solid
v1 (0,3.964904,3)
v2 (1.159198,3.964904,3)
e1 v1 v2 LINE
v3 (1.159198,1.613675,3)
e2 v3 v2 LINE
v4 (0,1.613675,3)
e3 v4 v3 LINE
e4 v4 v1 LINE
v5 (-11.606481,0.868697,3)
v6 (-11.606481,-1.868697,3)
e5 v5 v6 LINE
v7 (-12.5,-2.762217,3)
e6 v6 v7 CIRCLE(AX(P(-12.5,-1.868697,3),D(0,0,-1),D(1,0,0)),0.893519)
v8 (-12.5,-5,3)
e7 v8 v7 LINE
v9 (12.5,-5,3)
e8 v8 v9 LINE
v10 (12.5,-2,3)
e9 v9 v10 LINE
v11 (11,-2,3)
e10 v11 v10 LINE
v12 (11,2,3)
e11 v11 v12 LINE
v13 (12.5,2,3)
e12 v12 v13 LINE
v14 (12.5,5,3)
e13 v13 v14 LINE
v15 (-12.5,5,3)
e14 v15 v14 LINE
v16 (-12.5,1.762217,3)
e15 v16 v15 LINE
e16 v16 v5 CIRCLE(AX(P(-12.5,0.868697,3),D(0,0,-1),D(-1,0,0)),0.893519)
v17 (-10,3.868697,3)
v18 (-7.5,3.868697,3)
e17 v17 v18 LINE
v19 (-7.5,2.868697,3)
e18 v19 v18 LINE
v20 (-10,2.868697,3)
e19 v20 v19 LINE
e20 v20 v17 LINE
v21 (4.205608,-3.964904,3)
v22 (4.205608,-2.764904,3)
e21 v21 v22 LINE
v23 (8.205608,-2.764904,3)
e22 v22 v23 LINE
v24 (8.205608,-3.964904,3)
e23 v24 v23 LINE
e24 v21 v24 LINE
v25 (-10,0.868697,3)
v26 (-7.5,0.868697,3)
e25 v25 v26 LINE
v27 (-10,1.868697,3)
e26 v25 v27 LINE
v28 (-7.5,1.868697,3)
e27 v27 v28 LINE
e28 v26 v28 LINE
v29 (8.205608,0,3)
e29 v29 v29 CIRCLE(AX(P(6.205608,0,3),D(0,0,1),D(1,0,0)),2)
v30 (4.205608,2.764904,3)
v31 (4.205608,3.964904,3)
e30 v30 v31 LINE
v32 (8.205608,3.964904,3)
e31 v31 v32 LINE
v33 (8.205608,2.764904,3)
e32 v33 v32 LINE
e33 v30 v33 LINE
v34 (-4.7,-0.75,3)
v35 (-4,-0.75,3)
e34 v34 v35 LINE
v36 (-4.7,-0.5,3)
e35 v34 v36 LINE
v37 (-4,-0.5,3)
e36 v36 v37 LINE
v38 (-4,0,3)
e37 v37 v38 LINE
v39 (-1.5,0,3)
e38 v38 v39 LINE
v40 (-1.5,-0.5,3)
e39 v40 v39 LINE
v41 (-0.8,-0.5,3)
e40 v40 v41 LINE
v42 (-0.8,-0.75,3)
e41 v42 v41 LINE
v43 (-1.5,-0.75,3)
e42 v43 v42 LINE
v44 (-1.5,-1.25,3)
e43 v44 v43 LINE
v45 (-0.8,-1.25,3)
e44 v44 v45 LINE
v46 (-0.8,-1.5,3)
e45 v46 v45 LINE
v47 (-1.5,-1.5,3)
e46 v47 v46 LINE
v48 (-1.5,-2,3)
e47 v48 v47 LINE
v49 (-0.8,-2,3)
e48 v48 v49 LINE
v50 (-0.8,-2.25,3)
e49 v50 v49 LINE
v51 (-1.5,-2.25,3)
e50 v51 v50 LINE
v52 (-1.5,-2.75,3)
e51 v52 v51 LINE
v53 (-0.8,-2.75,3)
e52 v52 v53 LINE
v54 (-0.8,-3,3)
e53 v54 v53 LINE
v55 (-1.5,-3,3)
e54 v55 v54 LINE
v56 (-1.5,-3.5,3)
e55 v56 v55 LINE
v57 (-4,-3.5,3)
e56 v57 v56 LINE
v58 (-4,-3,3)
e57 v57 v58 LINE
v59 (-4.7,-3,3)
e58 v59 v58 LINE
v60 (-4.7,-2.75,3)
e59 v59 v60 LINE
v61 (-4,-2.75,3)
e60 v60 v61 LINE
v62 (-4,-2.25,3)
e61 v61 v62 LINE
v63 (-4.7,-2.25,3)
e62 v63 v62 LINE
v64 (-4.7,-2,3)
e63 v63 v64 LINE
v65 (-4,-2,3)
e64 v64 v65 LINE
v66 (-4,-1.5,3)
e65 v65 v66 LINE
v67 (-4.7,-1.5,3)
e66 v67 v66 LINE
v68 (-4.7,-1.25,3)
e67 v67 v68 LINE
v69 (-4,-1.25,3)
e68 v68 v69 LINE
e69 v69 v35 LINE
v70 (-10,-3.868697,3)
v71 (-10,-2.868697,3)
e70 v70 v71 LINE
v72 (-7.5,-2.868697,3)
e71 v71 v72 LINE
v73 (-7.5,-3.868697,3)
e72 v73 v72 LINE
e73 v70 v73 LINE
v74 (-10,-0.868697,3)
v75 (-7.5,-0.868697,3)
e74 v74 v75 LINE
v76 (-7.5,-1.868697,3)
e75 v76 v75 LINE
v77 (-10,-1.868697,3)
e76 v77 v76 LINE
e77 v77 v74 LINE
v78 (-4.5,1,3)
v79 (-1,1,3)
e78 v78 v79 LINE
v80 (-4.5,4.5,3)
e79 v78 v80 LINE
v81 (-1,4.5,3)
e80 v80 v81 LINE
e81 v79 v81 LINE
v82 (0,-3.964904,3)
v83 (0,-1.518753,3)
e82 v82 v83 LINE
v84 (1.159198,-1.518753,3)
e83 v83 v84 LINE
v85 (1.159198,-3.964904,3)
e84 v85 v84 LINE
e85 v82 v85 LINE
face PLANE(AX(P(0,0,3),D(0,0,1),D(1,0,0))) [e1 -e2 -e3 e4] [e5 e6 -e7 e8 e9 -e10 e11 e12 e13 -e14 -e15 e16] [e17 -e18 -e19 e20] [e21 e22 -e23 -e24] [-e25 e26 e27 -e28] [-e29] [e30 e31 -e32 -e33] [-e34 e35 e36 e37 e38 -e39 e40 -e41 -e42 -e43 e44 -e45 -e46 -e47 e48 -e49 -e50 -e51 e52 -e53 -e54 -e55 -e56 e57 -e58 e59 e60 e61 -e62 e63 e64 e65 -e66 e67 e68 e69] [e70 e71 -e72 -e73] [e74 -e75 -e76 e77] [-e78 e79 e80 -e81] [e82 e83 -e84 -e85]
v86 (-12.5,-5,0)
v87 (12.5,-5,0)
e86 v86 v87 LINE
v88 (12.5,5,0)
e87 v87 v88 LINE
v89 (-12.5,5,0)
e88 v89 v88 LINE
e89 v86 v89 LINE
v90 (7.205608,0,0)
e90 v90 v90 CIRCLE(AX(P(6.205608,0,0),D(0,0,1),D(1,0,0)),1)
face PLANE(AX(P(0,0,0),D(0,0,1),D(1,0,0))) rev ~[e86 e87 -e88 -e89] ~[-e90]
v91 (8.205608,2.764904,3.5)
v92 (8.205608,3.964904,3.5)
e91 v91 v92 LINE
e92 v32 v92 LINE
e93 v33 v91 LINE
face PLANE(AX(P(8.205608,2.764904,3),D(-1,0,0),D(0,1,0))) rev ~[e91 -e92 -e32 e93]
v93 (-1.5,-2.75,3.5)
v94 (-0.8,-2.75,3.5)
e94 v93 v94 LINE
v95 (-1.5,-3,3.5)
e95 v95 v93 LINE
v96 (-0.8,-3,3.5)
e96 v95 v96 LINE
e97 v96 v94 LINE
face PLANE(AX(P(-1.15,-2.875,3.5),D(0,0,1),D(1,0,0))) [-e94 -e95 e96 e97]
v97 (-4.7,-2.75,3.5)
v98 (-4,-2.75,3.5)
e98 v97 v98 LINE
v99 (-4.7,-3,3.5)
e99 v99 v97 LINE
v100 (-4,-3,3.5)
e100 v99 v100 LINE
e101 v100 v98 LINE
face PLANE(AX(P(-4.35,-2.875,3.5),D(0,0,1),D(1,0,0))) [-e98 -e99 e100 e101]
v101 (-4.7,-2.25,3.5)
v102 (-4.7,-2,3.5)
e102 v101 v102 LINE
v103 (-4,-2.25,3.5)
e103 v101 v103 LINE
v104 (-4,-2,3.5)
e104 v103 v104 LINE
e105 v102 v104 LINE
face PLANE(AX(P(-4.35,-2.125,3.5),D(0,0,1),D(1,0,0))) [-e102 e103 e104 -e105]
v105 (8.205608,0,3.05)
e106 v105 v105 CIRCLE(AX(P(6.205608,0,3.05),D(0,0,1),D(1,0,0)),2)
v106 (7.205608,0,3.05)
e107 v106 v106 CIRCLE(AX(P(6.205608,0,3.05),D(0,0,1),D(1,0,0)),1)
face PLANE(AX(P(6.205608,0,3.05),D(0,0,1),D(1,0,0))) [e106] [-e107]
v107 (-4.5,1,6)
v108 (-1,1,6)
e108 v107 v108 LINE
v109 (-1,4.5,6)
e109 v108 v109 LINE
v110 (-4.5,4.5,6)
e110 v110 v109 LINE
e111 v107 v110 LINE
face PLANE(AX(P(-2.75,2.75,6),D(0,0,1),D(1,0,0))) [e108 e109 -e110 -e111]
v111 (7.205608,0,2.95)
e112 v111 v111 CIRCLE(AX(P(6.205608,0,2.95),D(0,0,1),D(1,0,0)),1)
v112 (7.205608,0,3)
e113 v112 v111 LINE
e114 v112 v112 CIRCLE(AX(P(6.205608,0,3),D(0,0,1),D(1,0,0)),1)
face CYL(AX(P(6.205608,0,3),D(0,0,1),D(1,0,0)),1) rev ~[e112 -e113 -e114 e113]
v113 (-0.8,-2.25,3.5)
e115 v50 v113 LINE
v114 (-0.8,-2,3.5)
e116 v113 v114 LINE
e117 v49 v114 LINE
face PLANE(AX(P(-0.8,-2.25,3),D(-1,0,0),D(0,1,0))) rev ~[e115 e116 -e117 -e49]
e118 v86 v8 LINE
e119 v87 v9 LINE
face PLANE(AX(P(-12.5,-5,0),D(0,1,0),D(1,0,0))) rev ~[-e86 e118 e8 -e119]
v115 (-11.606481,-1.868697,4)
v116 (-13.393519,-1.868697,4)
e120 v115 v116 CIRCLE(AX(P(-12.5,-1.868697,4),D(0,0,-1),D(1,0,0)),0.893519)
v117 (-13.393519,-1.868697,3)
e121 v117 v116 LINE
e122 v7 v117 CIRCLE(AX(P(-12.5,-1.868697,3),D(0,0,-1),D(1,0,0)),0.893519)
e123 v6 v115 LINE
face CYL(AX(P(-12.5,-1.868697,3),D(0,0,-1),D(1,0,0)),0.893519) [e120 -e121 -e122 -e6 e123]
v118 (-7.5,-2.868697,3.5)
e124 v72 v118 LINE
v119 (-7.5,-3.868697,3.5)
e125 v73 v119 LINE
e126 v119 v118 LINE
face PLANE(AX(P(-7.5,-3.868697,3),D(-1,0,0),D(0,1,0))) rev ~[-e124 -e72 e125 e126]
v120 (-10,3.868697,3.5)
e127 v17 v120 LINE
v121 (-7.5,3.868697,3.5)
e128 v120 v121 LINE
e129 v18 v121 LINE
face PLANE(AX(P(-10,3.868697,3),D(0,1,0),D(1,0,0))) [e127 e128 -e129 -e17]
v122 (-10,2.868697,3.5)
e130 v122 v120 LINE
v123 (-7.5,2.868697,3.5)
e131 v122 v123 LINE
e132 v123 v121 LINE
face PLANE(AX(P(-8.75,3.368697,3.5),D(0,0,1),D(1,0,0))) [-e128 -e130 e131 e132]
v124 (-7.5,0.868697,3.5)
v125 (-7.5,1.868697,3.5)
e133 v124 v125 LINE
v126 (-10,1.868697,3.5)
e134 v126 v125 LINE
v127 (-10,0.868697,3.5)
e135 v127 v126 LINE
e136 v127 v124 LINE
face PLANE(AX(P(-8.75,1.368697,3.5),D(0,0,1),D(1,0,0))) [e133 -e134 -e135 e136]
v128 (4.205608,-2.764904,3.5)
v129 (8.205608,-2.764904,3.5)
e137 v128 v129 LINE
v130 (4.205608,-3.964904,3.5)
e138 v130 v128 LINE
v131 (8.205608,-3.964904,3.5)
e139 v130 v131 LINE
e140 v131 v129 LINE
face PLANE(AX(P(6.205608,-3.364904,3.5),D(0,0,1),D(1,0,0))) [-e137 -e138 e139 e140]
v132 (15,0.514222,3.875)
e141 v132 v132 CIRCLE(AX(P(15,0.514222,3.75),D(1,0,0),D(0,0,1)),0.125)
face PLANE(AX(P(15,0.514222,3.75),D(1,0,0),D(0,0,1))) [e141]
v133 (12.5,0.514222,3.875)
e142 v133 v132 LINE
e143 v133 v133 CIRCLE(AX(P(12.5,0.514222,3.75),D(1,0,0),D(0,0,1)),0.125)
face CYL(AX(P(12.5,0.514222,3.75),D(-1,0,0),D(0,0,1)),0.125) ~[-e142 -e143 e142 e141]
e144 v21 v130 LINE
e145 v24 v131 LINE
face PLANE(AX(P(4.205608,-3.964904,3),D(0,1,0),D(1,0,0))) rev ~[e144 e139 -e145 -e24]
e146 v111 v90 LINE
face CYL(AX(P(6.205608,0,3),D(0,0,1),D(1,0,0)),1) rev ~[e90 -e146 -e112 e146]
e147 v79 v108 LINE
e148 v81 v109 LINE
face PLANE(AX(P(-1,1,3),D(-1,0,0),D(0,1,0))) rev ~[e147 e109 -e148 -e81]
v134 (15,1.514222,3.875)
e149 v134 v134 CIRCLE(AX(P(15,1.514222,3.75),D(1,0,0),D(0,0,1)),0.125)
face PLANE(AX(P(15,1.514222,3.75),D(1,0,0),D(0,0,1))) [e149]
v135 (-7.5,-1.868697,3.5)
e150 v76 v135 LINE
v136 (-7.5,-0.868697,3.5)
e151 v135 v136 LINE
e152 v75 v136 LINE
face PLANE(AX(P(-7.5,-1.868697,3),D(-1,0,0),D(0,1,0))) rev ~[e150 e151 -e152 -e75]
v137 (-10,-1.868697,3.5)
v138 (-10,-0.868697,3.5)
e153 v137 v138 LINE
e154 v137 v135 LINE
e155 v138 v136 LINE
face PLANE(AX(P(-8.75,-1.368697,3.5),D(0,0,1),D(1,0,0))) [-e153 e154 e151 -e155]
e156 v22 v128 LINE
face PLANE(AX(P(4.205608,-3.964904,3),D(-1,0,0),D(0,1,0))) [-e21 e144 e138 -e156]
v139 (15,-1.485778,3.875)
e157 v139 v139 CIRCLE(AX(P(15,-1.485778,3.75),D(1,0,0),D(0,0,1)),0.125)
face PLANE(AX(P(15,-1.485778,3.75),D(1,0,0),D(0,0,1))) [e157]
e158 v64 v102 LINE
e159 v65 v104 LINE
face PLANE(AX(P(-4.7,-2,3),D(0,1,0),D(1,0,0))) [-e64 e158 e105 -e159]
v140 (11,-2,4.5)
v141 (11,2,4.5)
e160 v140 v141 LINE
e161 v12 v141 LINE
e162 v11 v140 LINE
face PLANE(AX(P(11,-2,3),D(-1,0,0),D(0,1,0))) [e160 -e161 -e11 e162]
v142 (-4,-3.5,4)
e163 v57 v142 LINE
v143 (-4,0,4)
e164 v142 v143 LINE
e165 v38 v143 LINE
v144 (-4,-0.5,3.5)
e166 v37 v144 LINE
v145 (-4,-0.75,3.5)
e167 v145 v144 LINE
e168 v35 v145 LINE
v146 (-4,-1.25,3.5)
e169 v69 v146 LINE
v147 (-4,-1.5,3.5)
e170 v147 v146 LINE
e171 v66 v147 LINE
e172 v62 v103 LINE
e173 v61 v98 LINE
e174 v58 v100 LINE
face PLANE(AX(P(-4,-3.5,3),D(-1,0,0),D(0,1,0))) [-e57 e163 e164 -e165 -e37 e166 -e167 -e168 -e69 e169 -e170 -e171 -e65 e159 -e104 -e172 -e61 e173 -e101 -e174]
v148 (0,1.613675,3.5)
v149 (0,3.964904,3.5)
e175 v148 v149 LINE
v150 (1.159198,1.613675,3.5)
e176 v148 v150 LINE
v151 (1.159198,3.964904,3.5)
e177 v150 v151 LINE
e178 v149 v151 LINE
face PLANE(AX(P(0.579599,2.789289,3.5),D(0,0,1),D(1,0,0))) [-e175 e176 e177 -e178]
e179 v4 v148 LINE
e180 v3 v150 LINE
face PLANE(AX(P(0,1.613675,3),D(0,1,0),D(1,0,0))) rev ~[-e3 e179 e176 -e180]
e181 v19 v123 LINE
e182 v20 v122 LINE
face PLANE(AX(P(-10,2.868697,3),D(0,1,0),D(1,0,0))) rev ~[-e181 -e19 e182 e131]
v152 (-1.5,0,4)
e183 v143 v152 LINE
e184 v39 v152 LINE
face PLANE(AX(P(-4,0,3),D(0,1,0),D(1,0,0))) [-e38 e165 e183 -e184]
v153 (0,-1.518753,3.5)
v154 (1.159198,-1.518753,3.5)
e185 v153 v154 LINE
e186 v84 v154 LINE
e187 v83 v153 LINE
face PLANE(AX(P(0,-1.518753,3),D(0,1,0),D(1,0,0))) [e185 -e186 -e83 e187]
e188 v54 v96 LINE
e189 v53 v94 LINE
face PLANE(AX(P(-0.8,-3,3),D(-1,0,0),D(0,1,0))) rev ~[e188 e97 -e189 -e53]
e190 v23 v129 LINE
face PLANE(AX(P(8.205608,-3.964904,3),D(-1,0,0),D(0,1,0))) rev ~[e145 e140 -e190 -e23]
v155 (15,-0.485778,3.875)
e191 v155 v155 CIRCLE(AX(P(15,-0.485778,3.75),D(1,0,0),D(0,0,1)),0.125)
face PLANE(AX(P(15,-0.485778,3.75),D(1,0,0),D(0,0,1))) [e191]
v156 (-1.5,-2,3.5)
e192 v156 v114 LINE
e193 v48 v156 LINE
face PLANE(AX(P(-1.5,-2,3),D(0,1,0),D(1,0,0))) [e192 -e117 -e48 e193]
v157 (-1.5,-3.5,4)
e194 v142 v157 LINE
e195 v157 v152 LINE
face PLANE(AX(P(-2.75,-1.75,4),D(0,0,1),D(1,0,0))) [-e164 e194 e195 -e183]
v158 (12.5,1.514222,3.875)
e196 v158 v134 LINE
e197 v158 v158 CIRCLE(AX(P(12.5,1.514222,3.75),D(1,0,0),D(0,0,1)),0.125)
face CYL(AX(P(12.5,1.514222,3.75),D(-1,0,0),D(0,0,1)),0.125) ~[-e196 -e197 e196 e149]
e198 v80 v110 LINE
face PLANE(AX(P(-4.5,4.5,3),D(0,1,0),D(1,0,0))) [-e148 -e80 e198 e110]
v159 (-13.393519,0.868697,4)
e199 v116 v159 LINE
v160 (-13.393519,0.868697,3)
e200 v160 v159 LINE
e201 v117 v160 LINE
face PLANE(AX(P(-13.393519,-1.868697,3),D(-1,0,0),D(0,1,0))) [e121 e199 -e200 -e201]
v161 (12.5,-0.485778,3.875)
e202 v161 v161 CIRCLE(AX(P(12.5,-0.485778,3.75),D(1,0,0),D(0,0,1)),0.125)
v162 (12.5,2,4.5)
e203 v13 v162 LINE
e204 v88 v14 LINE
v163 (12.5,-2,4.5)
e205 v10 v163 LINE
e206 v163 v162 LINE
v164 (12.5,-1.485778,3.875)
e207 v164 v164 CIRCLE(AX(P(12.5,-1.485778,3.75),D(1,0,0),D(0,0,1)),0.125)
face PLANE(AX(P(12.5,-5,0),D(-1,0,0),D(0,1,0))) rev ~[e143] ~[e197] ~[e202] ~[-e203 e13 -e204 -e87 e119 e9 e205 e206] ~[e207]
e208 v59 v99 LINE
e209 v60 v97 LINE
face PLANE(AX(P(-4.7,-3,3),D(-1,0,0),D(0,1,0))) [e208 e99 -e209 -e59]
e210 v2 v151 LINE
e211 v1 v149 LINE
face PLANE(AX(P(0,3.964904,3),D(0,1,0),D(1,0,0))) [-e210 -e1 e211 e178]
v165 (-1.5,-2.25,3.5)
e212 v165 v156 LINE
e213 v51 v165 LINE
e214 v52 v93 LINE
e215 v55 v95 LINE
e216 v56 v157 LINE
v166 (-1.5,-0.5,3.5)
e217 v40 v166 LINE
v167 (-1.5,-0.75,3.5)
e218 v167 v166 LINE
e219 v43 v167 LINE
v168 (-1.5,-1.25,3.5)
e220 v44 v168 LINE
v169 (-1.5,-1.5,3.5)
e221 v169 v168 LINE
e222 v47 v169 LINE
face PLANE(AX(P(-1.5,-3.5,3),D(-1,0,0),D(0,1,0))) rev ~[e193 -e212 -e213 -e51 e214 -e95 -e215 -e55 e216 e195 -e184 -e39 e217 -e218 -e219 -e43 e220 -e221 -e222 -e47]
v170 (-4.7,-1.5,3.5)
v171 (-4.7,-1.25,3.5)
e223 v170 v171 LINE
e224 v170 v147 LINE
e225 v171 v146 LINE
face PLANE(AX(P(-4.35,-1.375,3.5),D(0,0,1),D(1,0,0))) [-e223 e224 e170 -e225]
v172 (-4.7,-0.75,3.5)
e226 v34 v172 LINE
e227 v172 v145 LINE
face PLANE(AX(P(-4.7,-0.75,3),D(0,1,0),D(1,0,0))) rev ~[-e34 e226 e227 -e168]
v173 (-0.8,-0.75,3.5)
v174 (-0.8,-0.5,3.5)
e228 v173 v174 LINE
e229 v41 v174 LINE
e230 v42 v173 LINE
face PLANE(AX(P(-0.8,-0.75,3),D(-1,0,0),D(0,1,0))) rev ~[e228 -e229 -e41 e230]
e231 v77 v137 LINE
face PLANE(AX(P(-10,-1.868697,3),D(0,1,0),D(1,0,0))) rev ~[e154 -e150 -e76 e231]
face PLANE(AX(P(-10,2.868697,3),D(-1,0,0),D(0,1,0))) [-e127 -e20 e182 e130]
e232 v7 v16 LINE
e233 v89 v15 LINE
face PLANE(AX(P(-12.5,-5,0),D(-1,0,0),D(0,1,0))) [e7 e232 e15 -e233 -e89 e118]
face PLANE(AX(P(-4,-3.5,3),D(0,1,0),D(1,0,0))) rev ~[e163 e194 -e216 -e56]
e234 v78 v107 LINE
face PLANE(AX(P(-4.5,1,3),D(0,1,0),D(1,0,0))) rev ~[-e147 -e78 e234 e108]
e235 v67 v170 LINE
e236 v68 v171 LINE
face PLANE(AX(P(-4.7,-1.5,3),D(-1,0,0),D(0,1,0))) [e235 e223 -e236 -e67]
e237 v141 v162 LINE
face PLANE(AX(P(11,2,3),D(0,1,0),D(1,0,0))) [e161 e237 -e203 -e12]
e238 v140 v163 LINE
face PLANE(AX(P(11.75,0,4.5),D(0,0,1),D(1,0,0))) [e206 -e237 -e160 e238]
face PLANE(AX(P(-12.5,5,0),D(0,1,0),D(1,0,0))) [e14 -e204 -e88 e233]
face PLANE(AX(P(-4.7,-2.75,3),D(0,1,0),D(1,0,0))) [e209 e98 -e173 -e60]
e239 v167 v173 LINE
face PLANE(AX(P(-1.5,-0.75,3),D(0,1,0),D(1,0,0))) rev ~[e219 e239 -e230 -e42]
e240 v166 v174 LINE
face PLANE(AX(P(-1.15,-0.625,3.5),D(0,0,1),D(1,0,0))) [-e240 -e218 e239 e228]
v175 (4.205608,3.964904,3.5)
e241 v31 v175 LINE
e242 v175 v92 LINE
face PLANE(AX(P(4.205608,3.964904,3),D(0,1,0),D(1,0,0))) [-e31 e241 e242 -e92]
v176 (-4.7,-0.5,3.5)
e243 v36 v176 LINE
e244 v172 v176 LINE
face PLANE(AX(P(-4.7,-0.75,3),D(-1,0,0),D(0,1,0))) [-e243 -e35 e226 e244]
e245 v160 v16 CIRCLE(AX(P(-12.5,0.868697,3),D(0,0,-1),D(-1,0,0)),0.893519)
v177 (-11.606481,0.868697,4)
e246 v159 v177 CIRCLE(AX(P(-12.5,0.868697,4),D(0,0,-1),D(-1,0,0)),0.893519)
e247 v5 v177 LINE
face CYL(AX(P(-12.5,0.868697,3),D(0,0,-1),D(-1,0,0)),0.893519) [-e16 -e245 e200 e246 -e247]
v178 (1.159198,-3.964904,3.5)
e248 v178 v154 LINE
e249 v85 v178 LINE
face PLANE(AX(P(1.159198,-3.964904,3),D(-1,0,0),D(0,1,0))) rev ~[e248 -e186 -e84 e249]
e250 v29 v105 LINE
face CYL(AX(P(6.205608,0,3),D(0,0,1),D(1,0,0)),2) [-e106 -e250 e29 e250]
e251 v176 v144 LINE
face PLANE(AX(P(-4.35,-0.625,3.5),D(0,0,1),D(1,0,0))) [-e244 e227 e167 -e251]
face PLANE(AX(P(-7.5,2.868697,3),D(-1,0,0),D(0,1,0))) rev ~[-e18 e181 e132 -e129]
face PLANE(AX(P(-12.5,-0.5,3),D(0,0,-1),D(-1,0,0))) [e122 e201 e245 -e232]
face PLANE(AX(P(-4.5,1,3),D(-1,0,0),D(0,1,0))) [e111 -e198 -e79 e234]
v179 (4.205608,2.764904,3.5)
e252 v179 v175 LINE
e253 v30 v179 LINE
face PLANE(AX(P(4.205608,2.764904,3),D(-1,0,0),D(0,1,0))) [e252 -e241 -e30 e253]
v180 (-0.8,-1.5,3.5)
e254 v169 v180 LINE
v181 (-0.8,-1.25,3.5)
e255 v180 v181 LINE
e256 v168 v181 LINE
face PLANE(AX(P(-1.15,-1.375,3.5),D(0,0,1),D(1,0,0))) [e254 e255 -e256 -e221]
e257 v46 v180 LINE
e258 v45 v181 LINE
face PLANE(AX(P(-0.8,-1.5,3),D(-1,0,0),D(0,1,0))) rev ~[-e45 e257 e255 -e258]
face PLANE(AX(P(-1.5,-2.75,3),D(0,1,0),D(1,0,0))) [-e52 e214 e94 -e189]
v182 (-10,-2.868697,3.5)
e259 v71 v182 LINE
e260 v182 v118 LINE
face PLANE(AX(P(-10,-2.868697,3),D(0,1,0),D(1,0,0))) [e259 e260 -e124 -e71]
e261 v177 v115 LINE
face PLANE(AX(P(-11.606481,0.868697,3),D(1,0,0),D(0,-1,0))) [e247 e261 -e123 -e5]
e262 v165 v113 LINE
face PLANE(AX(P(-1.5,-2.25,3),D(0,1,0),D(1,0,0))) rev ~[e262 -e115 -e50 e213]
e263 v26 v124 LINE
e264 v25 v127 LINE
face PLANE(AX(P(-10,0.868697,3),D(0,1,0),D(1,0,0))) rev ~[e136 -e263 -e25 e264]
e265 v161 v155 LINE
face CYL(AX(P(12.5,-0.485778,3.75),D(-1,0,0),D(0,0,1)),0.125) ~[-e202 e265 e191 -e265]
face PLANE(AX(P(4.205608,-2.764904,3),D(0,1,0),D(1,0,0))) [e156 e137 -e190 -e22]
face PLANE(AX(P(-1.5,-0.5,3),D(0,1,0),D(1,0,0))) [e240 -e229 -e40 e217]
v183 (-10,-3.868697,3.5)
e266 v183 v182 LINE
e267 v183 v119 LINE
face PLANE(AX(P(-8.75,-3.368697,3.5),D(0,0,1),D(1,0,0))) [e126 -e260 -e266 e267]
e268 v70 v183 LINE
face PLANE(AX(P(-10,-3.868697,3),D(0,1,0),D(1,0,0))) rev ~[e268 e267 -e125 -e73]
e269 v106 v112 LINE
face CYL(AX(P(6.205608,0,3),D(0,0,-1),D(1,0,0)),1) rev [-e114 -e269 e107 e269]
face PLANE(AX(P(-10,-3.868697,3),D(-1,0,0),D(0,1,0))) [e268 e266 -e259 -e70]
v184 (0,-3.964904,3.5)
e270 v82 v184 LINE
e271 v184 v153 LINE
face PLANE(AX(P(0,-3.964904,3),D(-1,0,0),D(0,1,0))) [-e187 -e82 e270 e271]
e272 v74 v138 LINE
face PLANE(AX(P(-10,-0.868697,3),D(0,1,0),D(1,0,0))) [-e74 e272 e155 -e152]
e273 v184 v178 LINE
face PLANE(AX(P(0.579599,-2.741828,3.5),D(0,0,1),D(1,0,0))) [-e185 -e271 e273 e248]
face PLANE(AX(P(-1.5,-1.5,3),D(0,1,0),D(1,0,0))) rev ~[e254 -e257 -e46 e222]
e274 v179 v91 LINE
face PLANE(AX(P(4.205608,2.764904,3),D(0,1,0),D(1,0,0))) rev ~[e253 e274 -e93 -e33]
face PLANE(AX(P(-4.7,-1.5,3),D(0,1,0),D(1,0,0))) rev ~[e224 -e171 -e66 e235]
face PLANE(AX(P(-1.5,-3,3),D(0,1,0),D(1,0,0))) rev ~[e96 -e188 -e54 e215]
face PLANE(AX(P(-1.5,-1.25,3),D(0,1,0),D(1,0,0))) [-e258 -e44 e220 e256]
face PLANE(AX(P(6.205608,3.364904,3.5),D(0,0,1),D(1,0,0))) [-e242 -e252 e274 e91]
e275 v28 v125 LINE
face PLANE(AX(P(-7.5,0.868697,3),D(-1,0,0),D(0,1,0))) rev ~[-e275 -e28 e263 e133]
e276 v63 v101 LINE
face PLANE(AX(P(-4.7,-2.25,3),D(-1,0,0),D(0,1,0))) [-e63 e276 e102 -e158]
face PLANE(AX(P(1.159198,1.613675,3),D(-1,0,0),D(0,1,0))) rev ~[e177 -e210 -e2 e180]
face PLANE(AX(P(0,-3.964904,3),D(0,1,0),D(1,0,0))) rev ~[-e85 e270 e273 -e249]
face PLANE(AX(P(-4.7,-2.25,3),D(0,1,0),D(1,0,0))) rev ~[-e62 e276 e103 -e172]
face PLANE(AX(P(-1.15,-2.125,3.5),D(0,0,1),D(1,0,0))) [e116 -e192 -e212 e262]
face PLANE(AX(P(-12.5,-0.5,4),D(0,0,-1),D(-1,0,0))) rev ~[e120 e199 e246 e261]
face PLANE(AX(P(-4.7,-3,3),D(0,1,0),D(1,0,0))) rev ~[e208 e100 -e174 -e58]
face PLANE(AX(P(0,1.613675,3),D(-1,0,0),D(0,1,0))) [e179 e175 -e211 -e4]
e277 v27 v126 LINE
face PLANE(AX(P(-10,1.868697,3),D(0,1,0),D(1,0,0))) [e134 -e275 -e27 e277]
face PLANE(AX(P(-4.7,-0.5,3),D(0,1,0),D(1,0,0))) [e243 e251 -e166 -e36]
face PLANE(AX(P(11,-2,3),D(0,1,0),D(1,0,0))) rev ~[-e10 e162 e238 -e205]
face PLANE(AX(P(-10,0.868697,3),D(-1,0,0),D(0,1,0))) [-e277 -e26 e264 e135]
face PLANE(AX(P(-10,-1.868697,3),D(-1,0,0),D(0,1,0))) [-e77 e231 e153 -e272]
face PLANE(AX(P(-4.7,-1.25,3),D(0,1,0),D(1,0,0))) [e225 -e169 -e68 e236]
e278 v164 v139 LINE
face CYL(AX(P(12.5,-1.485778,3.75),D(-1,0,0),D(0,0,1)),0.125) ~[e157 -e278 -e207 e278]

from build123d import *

# Parameters (mm, degrees)
CROQUIS1_W               = 25
CROQUIS1_H               = 10
SALIENTE_EXTRUIR1_DEPTH  = 3
CORTAR_EXTRUIR1_REACH    = 15.793
CROQUIS2_R               = 1
CROQUIS2_3_R             = 2
CROQUIS2_3_R_2           = 1
SALIENTE_EXTRUIR2_DEPTH  = 0.05
CROQUIS3_W               = 3.5
CROQUIS3_H               = 3.5
SALIENTE_EXTRUIR3_DEPTH  = 3
CROQUIS4_W               = 2.5
CROQUIS4_H               = 3.5
SALIENTE_EXTRUIR4_DEPTH  = 1
CROQUIS5_W               = 0.7
CROQUIS5_H               = 0.25
SALIENTE_EXTRUIR5_DEPTH  = 0.5
CROQUIS6_W               = 2.5
CROQUIS6_H               = 1
CROQUIS6_W_2             = 4
CROQUIS6_H_2             = 1.2
SALIENTE_EXTRUIR6_DEPTH  = 0.5
CROQUIS7_W               = 2.5
CROQUIS7_H               = 1
CROQUIS7_W_2             = 4
CROQUIS7_H_2             = 1.2
SALIENTE_EXTRUIR7_DEPTH  = 0.5
CROQUIS8_W               = 1.5
CROQUIS8_H               = 4
SALIENTE_EXTRUIR8_DEPTH  = 1.5
CROQUIS9_R               = 0.125
SALIENTE_EXTRUIR9_DEPTH  = 2.5
SALIENTE_EXTRUIR11_DEPTH = 1
CROQUIS12_W              = 1.159197975
CROQUIS12_H              = 2.351229057
CROQUIS12_H_2            = 2.446151106
SALIENTE_EXTRUIR12_DEPTH = 0.5


with BuildPart() as part:
    # Croquis1 → Saliente-Extruir1 (new body)
    with BuildSketch(Plane.XY):
        Rectangle(CROQUIS1_W, CROQUIS1_H)
    extrude(amount=SALIENTE_EXTRUIR1_DEPTH)

    # Croquis2 → Cortar-Extruir1 (cut, up to next)
    with BuildSketch(Plane.XY.offset(3), mode=Mode.PRIVATE) as cortar_extruir1_sk1:
        with Locations((6.205608074, 0)):
            Circle(CROQUIS2_R)
    cortar_extruir1_tool1 = extrude(cortar_extruir1_sk1.sketch, amount=-CORTAR_EXTRUIR1_REACH, mode=Mode.PRIVATE) & part.part
    add(cortar_extruir1_tool1.solids().sort_by_distance((6.205608, 0, 3))[0], mode=Mode.SUBTRACT)

    # Croquis2_3 → Saliente-Extruir2 (add, symmetric)
    with BuildSketch(Plane.XY.offset(3)):
        with Locations((6.205608074, 0)):
            Circle(CROQUIS2_3_R)
        with Locations((6.205608074, 0)):
            Circle(CROQUIS2_3_R_2, mode=Mode.SUBTRACT)
    extrude(amount=SALIENTE_EXTRUIR2_DEPTH, both=True)

    # Croquis3 → Saliente-Extruir3 (add)
    with BuildSketch(Plane.XY.offset(3)):
        with Locations((-2.75, 2.75)):
            Rectangle(CROQUIS3_W, CROQUIS3_H)
    extrude(amount=SALIENTE_EXTRUIR3_DEPTH)

    # Croquis4 → Saliente-Extruir4 (add)
    with BuildSketch(Plane.XY.offset(3)):
        with Locations((-2.75, -1.75)):
            Rectangle(CROQUIS4_W, CROQUIS4_H)
    extrude(amount=SALIENTE_EXTRUIR4_DEPTH)

    # Croquis5 → Saliente-Extruir5 (add)
    with BuildSketch(Plane.XY.offset(3)):
        with Locations((-4.35, -0.625)):
            Rectangle(CROQUIS5_W, CROQUIS5_H)
        with Locations((-4.35, -1.375)):
            Rectangle(CROQUIS5_W, CROQUIS5_H)
        with Locations((-4.35, -2.125)):
            Rectangle(CROQUIS5_W, CROQUIS5_H)
        with Locations((-4.35, -2.875)):
            Rectangle(CROQUIS5_W, CROQUIS5_H)
        with Locations((-1.15, -2.875)):
            Rectangle(CROQUIS5_W, CROQUIS5_H)
        with Locations((-1.15, -2.125)):
            Rectangle(CROQUIS5_W, CROQUIS5_H)
        with Locations((-1.15, -1.375)):
            Rectangle(CROQUIS5_W, CROQUIS5_H)
        with Locations((-1.15, -0.625)):
            Rectangle(CROQUIS5_W, CROQUIS5_H)
    extrude(amount=SALIENTE_EXTRUIR5_DEPTH)

    # Croquis6 → Saliente-Extruir6 (add)
    with BuildSketch(Plane.XY.offset(3)):
        with Locations((-8.75, 3.368697132)):
            Rectangle(CROQUIS6_W, CROQUIS6_H)
        with Locations((-8.75, 1.368697132)):
            Rectangle(CROQUIS6_W, CROQUIS6_H)
        with Locations((6.205608074, -3.364903889)):
            Rectangle(CROQUIS6_W_2, CROQUIS6_H_2)
    extrude(amount=SALIENTE_EXTRUIR6_DEPTH)

    # Croquis7 → Saliente-Extruir7 (add)
    with BuildSketch(Plane.XY.offset(3)):
        with Locations((-8.75, -1.368697132)):
            Rectangle(CROQUIS7_W, CROQUIS7_H)
        with Locations((6.205608074, 3.364903889)):
            Rectangle(CROQUIS7_W_2, CROQUIS7_H_2)
        with Locations((-8.75, -3.368697132)):
            Rectangle(CROQUIS7_W, CROQUIS7_H)
        with Locations((6.205608074, -3.364903889)):
            Rectangle(CROQUIS7_W_2, CROQUIS7_H_2)
    extrude(amount=SALIENTE_EXTRUIR7_DEPTH)



with BuildPart() as body_2:
    # Croquis8 → Saliente-Extruir8 (new body)
    with BuildSketch(Plane.XY.offset(3)):
        with Locations((11.75, 0)):
            Rectangle(CROQUIS8_W, CROQUIS8_H)
    extrude(amount=SALIENTE_EXTRUIR8_DEPTH)


with BuildPart() as part_1:
    add(part.part)

    add(body_2.part)  # Saliente-Extruir9 merges body 2
    # Croquis9 → Saliente-Extruir9 (add)
    with BuildSketch(Plane(origin=(12.5, 0, 0), x_dir=(0, 0, -1), z_dir=(1, 0, 0))):
        with Locations(Location((-3.75, 1.514222449, 0), (0, 0, 180))):
            Circle(CROQUIS9_R)
        with Locations(Location((-3.75, 0.514222449, 0), (0, 0, 180))):
            Circle(CROQUIS9_R)
        with Locations(Location((-3.75, -0.485777551, 0), (0, 0, 180))):
            Circle(CROQUIS9_R)
        with Locations(Location((-3.75, -1.485777551, 0), (0, 0, 180))):
            Circle(CROQUIS9_R)
    extrude(amount=SALIENTE_EXTRUIR9_DEPTH)

    # Croquis11 → Saliente-Extruir11 (add)
    with BuildSketch(Plane.XY.offset(3)):
        with BuildLine():
            Line((-11.606480583, 0.868697132), (-11.606480583, -1.868697132))
            ThreePointArc((-11.606480583, -1.868697132), (-12.5, -2.762216549), (-13.393519417, -1.868697132))
            Line((-13.393519417, -1.868697132), (-13.393519417, 0.868697132))
            ThreePointArc((-13.393519417, 0.868697132), (-12.5, 1.762216549), (-11.606480583, 0.868697132))
        make_face()
    extrude(amount=SALIENTE_EXTRUIR11_DEPTH)

    # Croquis12 → Saliente-Extruir12 (add)
    with BuildSketch(Plane.XY.offset(3)):
        with Locations((0.579598988, 2.789289361)):
            Rectangle(CROQUIS12_W, CROQUIS12_H)
        with Locations((0.579598988, -2.741828336)):
            Rectangle(CROQUIS12_W, CROQUIS12_H_2)
    extrude(amount=SALIENTE_EXTRUIR12_DEPTH)


solid = part_1.part
